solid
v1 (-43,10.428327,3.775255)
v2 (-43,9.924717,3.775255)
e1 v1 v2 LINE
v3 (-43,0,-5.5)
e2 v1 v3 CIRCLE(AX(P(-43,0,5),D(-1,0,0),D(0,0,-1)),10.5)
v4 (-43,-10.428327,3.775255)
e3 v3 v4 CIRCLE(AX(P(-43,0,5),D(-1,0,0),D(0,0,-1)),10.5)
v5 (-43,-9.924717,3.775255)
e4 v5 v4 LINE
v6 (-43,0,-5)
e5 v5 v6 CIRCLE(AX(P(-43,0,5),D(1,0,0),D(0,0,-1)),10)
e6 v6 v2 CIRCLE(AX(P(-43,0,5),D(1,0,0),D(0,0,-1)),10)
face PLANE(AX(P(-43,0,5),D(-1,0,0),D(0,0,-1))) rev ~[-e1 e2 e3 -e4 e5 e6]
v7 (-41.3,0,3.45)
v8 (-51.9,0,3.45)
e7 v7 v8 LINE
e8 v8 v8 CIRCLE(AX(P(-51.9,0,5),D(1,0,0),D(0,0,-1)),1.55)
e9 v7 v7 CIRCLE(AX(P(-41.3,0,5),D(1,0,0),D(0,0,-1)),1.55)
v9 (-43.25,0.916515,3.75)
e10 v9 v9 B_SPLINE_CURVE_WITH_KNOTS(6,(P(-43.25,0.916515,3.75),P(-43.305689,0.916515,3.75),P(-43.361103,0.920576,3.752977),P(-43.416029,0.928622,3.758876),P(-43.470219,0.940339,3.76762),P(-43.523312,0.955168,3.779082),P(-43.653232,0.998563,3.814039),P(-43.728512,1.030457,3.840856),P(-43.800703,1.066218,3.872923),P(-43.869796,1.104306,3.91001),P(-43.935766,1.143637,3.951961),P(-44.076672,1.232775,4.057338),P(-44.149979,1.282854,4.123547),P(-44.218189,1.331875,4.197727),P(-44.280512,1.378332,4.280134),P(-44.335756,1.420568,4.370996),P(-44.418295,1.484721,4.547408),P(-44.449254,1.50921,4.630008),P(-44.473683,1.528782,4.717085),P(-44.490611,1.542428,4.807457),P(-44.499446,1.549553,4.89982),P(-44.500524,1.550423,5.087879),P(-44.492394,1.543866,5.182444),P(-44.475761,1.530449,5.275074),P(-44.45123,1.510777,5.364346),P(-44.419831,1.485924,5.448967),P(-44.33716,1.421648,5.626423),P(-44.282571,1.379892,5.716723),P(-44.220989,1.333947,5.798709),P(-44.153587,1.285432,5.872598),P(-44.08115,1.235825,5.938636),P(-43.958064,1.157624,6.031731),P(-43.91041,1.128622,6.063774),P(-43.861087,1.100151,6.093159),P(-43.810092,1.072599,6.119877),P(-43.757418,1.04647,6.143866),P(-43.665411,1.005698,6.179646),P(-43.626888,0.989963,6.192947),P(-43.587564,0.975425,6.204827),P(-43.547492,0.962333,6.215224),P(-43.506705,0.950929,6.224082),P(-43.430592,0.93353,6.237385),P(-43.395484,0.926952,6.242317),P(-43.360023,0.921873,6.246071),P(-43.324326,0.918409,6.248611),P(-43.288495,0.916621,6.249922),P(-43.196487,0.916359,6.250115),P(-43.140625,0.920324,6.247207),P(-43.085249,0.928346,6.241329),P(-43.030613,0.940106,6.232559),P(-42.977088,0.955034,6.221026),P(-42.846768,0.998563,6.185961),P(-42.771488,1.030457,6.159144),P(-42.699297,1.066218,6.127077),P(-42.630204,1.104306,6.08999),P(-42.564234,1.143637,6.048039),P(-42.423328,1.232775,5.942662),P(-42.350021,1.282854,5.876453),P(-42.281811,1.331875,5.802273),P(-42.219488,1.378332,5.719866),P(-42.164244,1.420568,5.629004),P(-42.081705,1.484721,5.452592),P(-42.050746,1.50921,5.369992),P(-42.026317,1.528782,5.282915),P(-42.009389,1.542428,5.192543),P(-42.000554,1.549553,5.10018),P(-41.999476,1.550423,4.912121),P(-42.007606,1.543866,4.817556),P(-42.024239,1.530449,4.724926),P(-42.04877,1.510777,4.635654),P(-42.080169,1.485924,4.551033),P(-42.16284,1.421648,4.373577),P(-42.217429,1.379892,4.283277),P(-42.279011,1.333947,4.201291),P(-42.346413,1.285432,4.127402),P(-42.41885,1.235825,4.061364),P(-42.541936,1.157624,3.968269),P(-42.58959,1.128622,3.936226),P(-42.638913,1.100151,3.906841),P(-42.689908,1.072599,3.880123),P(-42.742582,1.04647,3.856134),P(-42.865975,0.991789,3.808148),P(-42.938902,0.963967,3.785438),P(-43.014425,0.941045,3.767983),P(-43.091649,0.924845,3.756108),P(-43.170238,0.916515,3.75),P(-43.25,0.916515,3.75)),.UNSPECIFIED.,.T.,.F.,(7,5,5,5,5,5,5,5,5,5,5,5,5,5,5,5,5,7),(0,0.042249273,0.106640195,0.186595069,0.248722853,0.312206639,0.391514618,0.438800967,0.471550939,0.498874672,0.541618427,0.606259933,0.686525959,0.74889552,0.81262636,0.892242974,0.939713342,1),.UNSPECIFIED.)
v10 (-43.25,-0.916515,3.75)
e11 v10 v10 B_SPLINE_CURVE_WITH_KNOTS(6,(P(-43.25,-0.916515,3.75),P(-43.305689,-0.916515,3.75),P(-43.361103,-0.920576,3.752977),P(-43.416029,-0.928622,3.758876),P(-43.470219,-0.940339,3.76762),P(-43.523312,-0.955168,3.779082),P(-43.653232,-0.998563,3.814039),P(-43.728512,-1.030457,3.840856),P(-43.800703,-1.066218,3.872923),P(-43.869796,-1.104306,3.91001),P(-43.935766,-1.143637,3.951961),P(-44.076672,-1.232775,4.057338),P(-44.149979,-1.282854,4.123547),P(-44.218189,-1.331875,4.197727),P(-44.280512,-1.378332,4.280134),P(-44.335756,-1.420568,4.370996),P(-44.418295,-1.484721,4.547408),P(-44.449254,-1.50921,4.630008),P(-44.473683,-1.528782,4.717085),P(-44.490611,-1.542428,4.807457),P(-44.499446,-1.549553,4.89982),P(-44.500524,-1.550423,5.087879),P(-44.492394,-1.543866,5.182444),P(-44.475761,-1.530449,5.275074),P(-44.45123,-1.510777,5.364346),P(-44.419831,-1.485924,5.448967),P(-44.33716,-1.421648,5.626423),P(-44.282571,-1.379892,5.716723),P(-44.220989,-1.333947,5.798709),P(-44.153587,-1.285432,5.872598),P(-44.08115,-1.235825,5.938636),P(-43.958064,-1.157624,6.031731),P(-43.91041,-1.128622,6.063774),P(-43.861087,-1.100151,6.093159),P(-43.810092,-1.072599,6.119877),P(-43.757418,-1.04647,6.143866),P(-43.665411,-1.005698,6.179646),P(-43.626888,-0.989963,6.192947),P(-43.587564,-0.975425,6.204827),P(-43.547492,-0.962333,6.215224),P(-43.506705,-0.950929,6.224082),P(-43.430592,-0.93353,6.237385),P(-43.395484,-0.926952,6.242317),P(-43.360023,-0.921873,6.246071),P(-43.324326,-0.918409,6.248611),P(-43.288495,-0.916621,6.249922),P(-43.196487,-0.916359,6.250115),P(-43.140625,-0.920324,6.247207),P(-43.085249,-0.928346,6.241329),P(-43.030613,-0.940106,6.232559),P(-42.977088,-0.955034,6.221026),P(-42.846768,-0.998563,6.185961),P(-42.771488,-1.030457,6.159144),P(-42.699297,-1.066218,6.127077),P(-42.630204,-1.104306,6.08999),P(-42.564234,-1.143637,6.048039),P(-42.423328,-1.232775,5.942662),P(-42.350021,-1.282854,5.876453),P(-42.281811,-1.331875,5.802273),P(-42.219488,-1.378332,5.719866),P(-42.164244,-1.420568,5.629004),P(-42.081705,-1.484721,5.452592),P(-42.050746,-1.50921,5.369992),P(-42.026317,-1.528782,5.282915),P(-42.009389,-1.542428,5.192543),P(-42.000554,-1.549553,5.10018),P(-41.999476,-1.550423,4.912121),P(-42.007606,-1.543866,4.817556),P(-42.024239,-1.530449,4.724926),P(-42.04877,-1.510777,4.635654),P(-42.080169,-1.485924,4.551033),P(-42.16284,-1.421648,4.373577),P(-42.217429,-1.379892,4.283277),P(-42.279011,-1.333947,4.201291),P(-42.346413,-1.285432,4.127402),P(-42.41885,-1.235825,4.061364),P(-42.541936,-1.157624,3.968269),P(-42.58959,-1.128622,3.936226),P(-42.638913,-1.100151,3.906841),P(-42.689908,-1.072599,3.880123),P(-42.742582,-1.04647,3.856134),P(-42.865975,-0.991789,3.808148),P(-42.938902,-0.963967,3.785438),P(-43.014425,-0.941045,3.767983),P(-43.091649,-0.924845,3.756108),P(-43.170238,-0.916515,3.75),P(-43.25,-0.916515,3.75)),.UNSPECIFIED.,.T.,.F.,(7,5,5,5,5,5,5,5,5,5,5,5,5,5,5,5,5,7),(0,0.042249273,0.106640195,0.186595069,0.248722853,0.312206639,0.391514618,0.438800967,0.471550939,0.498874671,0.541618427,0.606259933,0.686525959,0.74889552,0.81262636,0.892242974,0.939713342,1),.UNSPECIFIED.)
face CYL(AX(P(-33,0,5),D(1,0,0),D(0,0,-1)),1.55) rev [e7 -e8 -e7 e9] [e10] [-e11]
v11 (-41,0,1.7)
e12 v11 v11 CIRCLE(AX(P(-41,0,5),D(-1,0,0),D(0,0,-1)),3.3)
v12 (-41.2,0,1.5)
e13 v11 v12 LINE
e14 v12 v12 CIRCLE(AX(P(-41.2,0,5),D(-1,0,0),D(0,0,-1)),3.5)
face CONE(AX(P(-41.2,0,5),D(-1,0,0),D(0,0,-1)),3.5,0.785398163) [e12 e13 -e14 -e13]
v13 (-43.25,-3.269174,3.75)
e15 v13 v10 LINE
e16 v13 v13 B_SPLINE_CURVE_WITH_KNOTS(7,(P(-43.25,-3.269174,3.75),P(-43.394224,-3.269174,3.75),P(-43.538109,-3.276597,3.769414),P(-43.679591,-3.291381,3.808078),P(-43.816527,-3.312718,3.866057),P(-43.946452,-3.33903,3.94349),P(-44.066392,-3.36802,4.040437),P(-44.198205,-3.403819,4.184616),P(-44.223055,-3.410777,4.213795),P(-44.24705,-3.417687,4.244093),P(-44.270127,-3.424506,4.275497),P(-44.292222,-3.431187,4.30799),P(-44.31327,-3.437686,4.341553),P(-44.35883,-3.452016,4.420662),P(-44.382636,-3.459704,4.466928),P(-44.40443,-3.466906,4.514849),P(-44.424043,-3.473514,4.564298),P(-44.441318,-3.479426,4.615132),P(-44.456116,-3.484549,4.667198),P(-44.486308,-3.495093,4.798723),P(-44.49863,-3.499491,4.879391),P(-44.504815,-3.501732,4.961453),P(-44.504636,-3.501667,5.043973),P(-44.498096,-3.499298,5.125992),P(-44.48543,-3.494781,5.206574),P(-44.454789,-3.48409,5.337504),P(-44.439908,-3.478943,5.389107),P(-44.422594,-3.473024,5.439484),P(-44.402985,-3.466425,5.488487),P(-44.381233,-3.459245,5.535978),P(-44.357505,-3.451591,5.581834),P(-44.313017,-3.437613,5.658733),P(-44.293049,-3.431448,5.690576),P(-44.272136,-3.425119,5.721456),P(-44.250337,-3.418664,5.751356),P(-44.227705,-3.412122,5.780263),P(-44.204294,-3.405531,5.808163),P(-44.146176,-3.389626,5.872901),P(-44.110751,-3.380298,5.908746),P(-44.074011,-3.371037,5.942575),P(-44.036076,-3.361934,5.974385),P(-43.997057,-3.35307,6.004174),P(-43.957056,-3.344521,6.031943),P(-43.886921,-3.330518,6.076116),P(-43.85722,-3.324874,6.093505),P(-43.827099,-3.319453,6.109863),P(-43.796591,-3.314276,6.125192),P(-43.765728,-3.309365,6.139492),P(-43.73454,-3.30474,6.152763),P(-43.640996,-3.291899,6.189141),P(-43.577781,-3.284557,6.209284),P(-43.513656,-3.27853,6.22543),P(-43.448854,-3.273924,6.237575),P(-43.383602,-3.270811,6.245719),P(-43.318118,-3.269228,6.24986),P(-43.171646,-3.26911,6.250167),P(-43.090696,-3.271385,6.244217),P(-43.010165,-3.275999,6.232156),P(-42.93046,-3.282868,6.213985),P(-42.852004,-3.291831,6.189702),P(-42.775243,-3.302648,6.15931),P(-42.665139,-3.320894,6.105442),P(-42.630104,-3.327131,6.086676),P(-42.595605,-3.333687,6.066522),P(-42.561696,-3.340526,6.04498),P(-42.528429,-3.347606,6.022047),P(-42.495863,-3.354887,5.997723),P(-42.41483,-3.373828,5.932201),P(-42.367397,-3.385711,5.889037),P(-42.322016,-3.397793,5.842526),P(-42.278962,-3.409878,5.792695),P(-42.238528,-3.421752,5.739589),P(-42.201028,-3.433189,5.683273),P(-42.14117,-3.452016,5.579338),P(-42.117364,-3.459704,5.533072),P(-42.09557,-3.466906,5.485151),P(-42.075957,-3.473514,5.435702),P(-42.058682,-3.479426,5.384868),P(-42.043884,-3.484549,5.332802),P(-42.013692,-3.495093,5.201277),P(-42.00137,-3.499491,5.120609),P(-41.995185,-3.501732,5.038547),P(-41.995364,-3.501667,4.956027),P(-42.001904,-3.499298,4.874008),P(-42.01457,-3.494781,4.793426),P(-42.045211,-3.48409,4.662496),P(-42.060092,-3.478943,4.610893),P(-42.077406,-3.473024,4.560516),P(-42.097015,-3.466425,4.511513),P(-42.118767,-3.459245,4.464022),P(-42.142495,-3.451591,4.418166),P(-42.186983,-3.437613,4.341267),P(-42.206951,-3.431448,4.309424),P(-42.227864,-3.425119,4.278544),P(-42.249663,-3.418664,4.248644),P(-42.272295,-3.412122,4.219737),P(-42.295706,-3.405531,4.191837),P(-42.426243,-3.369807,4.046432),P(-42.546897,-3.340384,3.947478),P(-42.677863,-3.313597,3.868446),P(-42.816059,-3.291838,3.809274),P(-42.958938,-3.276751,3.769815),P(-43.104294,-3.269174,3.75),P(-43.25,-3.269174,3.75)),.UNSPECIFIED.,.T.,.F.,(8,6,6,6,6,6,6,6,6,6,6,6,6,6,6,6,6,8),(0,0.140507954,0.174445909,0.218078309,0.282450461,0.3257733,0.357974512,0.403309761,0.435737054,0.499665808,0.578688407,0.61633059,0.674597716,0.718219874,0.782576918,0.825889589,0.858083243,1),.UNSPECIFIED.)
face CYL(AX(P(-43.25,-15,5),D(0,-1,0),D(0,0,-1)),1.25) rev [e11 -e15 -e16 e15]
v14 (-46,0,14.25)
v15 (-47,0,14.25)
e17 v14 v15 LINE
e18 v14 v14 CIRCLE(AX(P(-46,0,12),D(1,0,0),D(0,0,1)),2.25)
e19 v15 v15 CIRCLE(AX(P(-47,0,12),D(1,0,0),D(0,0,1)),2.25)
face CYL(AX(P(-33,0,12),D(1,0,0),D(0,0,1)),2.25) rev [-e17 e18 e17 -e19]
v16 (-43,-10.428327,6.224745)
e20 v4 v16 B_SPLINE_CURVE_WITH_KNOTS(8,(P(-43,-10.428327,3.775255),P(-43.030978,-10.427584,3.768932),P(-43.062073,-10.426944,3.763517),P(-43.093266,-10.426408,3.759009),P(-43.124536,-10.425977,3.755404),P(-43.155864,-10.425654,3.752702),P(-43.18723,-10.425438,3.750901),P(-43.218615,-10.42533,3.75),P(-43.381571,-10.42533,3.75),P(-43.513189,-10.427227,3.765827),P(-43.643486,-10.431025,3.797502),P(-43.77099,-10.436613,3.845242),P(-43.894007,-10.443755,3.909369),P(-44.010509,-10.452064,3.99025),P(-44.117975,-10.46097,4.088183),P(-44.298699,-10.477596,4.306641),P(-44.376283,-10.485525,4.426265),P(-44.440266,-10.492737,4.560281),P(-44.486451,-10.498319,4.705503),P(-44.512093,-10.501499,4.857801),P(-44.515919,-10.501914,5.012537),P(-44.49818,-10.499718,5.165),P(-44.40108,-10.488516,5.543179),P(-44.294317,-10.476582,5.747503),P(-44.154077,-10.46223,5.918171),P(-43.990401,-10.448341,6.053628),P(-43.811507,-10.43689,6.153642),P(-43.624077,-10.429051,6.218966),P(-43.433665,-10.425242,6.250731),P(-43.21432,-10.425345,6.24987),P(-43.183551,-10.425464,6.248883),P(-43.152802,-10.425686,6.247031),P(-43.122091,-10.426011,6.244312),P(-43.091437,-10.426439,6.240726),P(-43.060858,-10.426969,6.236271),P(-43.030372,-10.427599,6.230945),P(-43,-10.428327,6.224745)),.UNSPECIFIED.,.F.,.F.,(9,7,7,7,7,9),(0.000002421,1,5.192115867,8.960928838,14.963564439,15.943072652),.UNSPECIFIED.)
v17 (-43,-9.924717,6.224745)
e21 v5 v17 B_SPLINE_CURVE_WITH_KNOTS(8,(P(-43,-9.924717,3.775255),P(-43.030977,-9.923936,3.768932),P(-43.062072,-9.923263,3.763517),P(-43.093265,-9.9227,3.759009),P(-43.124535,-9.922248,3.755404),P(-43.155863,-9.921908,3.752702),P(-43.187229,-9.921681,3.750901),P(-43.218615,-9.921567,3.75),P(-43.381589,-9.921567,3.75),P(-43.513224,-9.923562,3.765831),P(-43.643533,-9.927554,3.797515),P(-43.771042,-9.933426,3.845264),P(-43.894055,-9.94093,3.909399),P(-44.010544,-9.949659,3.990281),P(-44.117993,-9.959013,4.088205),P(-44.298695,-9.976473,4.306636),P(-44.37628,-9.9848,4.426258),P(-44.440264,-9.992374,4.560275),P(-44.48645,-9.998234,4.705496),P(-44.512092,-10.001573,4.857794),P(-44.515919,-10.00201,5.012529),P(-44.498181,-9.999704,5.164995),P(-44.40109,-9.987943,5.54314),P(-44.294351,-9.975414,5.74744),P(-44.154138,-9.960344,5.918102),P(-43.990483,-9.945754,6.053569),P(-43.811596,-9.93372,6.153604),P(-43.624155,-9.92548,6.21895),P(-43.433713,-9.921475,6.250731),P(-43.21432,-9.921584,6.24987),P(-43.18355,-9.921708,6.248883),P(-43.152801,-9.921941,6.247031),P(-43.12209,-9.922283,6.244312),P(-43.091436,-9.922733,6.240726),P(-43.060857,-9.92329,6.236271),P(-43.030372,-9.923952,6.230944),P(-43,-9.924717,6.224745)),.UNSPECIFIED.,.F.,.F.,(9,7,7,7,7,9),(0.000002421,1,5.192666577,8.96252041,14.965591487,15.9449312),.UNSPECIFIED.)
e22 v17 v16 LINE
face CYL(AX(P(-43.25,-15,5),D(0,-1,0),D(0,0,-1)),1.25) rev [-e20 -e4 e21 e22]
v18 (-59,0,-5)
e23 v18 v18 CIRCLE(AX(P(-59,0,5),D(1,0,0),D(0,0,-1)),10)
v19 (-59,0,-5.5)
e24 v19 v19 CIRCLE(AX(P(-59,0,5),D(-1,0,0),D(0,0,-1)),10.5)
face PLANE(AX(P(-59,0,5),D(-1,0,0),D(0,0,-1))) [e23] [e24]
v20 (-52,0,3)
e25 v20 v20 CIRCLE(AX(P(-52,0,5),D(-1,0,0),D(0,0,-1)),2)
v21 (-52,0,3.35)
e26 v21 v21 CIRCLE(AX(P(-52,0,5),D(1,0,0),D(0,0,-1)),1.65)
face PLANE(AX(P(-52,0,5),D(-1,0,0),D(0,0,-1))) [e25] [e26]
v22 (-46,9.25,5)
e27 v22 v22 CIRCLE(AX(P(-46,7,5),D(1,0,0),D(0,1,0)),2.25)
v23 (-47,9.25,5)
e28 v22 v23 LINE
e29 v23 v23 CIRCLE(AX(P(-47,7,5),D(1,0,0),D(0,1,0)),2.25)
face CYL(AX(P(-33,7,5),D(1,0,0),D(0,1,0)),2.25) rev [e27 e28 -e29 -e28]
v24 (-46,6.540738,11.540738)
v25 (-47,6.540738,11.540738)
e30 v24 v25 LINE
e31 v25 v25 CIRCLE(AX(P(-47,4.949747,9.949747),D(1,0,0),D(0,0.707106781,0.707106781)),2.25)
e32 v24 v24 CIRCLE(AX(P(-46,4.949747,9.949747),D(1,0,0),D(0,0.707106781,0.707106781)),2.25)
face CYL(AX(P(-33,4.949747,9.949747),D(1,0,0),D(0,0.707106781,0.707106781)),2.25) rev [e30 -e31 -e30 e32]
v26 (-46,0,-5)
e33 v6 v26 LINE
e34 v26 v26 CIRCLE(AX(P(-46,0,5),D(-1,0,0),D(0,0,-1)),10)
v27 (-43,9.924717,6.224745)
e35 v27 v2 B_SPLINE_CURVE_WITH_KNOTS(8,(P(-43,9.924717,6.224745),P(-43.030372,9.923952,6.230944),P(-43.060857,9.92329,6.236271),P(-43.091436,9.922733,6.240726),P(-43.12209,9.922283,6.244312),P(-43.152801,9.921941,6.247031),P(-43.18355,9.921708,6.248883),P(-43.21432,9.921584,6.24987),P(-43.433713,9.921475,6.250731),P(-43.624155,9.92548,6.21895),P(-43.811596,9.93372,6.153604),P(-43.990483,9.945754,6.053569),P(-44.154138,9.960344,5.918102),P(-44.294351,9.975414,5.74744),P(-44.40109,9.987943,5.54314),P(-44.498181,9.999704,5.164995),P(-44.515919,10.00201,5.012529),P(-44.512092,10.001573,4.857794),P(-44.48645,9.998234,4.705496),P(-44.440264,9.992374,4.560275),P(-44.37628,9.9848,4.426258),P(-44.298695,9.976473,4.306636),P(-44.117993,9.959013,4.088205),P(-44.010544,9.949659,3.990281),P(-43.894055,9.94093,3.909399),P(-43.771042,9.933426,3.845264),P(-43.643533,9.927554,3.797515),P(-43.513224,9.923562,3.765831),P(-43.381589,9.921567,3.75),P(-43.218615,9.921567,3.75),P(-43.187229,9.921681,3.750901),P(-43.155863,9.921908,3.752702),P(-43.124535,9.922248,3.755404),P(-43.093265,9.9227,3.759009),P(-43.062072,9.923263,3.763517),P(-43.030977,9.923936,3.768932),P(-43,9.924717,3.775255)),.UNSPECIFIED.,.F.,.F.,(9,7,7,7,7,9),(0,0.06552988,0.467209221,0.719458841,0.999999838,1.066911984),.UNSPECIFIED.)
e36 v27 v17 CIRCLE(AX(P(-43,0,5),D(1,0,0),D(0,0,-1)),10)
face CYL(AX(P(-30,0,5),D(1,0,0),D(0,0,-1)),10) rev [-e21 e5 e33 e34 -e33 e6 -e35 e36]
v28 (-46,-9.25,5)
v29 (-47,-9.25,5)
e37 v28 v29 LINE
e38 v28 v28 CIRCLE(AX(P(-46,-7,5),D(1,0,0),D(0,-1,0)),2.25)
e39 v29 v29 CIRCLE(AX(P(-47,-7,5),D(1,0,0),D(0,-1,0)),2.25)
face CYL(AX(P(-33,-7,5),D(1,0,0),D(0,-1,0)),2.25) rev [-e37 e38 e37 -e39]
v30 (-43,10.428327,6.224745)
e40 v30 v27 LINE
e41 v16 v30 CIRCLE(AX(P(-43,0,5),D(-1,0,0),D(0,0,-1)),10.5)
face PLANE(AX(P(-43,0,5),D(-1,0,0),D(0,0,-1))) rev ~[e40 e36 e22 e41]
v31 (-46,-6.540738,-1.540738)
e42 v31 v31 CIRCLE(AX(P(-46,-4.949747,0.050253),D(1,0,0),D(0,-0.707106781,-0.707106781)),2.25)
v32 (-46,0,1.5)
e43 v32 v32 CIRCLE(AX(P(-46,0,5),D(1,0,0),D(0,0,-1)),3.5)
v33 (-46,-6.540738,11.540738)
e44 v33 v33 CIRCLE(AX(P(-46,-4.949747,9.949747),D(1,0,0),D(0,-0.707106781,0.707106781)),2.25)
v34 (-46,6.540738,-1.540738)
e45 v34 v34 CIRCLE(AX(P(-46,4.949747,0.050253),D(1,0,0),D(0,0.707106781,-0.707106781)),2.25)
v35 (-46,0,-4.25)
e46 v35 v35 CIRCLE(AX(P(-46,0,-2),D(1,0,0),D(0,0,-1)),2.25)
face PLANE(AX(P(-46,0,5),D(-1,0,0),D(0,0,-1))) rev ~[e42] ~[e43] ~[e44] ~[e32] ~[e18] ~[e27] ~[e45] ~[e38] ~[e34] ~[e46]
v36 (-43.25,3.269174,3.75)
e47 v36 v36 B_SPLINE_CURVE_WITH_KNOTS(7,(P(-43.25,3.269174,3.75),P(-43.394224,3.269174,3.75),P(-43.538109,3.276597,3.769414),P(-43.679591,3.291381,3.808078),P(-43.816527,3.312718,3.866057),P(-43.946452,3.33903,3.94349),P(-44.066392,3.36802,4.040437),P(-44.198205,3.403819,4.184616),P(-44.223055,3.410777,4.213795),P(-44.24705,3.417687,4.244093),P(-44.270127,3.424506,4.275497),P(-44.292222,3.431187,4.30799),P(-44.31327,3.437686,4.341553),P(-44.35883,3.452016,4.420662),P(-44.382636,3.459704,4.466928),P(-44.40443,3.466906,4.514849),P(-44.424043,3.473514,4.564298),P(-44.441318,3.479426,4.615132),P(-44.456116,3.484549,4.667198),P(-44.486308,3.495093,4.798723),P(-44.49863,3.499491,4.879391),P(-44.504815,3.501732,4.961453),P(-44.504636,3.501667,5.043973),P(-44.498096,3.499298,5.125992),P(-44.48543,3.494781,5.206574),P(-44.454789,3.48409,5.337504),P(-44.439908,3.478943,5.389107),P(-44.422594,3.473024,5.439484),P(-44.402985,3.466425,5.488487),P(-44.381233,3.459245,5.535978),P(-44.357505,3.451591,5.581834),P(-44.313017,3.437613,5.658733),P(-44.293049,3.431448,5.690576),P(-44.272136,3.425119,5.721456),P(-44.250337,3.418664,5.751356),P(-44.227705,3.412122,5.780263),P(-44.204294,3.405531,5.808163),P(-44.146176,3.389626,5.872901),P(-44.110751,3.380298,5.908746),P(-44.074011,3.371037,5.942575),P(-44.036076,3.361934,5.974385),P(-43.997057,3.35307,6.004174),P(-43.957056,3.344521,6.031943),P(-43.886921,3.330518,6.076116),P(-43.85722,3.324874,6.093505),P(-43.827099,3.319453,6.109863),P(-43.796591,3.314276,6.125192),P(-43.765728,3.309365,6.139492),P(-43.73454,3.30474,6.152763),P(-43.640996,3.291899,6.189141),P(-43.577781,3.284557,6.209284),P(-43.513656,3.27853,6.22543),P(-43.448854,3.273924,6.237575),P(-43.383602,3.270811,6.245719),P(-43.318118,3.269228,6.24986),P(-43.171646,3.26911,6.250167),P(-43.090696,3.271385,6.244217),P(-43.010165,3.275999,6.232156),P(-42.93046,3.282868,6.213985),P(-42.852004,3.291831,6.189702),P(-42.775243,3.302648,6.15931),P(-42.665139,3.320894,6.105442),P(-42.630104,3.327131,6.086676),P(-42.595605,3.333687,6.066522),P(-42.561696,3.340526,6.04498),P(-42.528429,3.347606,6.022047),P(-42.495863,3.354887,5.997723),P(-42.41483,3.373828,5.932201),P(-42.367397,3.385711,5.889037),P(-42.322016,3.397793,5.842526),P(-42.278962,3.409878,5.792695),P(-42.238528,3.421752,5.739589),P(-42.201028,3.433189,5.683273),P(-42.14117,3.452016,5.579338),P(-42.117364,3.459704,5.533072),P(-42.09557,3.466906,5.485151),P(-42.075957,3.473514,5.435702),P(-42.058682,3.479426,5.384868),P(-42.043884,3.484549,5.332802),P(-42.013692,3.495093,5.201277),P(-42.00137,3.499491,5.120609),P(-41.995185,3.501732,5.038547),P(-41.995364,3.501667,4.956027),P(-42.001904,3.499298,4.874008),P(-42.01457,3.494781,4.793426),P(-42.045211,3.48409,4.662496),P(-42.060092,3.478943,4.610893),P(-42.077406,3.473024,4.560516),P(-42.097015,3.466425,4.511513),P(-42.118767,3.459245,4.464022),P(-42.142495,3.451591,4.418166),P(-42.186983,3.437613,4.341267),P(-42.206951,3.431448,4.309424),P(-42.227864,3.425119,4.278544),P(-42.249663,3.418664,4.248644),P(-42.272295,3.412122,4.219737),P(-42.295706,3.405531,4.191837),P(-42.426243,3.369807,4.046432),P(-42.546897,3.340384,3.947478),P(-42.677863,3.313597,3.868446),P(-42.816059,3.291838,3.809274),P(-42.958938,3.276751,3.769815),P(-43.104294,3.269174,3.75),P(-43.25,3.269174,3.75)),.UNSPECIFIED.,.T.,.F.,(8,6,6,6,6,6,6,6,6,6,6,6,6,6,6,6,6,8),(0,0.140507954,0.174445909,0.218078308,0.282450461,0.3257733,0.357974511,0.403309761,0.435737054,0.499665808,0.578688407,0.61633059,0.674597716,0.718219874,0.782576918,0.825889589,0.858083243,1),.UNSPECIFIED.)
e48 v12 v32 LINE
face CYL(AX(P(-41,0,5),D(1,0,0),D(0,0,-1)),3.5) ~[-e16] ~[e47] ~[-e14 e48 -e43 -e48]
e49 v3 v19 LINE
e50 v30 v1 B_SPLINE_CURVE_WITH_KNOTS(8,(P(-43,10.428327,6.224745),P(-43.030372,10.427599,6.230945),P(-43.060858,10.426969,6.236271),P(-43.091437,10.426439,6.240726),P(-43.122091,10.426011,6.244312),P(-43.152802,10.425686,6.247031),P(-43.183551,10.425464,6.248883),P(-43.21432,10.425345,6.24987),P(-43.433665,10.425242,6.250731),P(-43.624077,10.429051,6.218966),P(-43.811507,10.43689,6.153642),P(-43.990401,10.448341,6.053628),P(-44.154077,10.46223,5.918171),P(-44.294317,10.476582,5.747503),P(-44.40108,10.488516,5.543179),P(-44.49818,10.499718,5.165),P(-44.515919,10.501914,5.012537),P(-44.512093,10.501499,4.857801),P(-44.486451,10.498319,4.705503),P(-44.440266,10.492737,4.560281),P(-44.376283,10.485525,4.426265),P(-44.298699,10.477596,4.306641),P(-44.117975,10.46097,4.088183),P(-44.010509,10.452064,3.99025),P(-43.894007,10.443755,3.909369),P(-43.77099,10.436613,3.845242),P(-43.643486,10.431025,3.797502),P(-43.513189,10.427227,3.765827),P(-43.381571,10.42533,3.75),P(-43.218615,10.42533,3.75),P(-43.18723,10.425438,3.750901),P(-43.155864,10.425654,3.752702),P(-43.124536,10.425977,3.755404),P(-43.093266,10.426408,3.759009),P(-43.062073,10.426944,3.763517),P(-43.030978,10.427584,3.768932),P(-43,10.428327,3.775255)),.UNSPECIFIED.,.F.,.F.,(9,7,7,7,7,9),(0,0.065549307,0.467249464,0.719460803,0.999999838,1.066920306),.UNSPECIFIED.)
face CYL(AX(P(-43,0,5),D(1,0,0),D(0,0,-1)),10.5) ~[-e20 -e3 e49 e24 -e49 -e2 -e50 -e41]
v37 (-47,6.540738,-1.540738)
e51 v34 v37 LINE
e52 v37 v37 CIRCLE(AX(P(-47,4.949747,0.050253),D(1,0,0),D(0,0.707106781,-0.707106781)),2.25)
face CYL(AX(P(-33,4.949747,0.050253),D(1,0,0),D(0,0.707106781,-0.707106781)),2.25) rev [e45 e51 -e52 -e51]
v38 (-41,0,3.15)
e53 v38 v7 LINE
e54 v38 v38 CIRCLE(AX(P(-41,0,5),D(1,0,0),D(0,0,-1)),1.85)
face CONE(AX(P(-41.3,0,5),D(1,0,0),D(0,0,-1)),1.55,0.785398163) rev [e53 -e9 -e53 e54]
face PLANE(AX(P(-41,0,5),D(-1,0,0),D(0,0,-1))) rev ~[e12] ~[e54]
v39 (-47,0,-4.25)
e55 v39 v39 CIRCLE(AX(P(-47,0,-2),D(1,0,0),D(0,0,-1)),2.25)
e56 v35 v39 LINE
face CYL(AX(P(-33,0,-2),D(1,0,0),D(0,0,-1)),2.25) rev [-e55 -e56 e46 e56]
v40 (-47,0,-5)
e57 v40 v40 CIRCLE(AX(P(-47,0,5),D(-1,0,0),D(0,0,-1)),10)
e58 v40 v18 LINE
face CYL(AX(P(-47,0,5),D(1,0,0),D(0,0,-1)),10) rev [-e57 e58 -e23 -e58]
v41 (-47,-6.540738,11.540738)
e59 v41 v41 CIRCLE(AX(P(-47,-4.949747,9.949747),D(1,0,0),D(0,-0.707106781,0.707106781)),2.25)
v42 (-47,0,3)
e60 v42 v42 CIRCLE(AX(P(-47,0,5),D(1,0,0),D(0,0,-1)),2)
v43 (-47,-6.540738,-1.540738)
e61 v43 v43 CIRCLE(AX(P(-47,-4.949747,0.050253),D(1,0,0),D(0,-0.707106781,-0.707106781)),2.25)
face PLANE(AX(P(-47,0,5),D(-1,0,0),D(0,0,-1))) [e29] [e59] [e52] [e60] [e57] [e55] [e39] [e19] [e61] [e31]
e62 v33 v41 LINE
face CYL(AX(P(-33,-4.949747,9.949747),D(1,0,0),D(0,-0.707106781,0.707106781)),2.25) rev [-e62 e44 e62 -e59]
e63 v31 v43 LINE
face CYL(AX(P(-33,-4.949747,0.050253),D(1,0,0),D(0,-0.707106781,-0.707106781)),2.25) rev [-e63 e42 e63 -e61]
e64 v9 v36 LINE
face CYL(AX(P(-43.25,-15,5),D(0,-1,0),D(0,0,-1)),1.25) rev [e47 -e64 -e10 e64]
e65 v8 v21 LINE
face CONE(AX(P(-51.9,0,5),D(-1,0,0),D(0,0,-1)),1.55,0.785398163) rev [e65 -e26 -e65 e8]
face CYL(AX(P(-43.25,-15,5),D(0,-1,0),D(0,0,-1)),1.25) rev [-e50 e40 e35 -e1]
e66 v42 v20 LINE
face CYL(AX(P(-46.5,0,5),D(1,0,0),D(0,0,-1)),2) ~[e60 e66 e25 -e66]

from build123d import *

# Parameters (mm, degrees)
CYLINDER039_R          = 2.25
CYLINDER039_DEPTH      = 30
ARRAY002_COUNT         = 8
CYLINDER038_R          = 1.55
CYLINDER038_DEPTH      = 30
CYLINDER045_R          = 1.25
CYLINDER045_DEPTH      = 32
CYLINDER045_ROLL_ANGLE = 90
CYLINDER043_R          = 3.5
CYLINDER043_DEPTH      = 5.5
CYLINDER042_R          = 10
CYLINDER042_DEPTH      = 16
CYLINDER037_R          = 10
CYLINDER037_DEPTH      = 16
CYLINDER036_R          = 10.5
CYLINDER036_DEPTH      = 16
CYLINDER044_R          = 2
CYLINDER044_DEPTH      = 5.5
CHAMFER062_1_SIZE      = 0.3
CHAMFER062_2_SIZE      = 0.2
CHAMFER062_3_SIZE      = 0.1
CLONE044_PITCH_ANGLE   = 90
CLONE_PLACEMENT_ANGLE  = 180


with BuildPart() as array002:
    # Cylinder039 → Cylinder039 (new body)
    with BuildSketch(Plane(origin=(7, 0, -10), x_dir=(1, 0, 0), z_dir=(0, 0, 1))):
        Circle(CYLINDER039_R)
    extrude(amount=CYLINDER039_DEPTH)

    # Array002: Array002 ×8 about axis
    array002_axis = Axis((0, 0, 0), (0, 0, 1))


with BuildPart() as array002_1:
    add(array002.part)
    for i in range(1, ARRAY002_COUNT):
        add(array002.part.rotate(array002_axis, i * 360 / ARRAY002_COUNT))


with BuildPart() as fusion033:
    # Cylinder038 → Cylinder038 (new body)
    with BuildSketch(Plane.XY.offset(-10)):
        Circle(CYLINDER038_R)
    extrude(amount=CYLINDER038_DEPTH)

    # Fusion033: union Array002
    add(array002_1.part)


with BuildPart() as cylinder045:
    # Cylinder045 → Cylinder045 (new body)
    with BuildSketch(Plane.XY):
        Circle(CYLINDER045_R)
    extrude(amount=CYLINDER045_DEPTH)


with BuildPart() as cylinder045_1:
    # Cylinder045 roll: moved
    add(cylinder045.part.rotate(Axis((0, 0, 0), (1, 0, 0)), CYLINDER045_ROLL_ANGLE))


with BuildPart() as cylinder045_2:
    # Cylinder045 placement: moved
    add(cylinder045_1.part.moved(Location((0, 15, 0.25))))


with BuildPart() as cylinder043:
    # Cylinder043 → Cylinder043 (new body)
    with BuildSketch(Plane.XY.offset(-2)):
        Circle(CYLINDER043_R)
    extrude(amount=CYLINDER043_DEPTH)


with BuildPart() as cylinder042:
    # Cylinder042 → Cylinder042 (new body)
    with BuildSketch(Plane.XY.offset(-13)):
        Circle(CYLINDER042_R)
    extrude(amount=CYLINDER042_DEPTH)


with BuildPart() as fusion034:
    # Cylinder037 → Cylinder037 (new body)
    with BuildSketch(Plane.XY.offset(4)):
        Circle(CYLINDER037_R)
    extrude(amount=CYLINDER037_DEPTH)

    # Fusion034: union Cylinder042
    add(cylinder042.part)


with BuildPart() as cut028:
    # Cylinder036 → Cylinder036 (new body)
    with BuildSketch(Plane.XY):
        Circle(CYLINDER036_R)
    extrude(amount=CYLINDER036_DEPTH)

    # Cut028: cut Fusion034
    add(fusion034.part, mode=Mode.SUBTRACT)


with BuildPart() as left_wheel:
    # Cylinder044 → Cylinder044 (new body)
    with BuildSketch(Plane.XY.offset(3.5)):
        Circle(CYLINDER044_R)
    extrude(amount=CYLINDER044_DEPTH)

    # Fusion035: union Cylinder043, Cut028
    add(cylinder043.part)
    add(cut028.part)

    # Cut002: cut Cylinder045
    add(cylinder045_2.part, mode=Mode.SUBTRACT)

    # Cut029: cut Fusion033
    add(fusion033.part, mode=Mode.SUBTRACT)

    # Chamfer062 1
    chamfer062_1_edges = [left_wheel.edges().sort_by_distance(p)[0] for p in [
        (-1.55, 0, -2),
    ]]
    chamfer(chamfer062_1_edges, length=CHAMFER062_1_SIZE)

    # Chamfer062 2
    chamfer062_2_edges = [left_wheel.edges().sort_by_distance(p)[0] for p in [
        (-3.5, 0, -2),
    ]]
    chamfer(chamfer062_2_edges, length=CHAMFER062_2_SIZE)

    # Chamfer062 3
    chamfer062_3_edges = [left_wheel.edges().sort_by_distance(p)[0] for p in [
        (-1.55, 0, 9),
    ]]
    chamfer(chamfer062_3_edges, length=CHAMFER062_3_SIZE)


with BuildPart() as left_wheel_1:
    # Clone044 pitch: moved
    add(left_wheel.part.rotate(Axis((0, 0, 0), (0, 1, 0)), CLONE044_PITCH_ANGLE))


with BuildPart() as left_wheel_2:
    # Clone044 placement: moved
    add(left_wheel_1.part.moved(Location((43, 0, 5))))


with BuildPart() as left_wheel_3:
    # Clone placement: moved
    add(left_wheel_2.part.moved(Location((0, 0, 0))).rotate(Axis((0, 0, 0), (0, 0, 1)), CLONE_PLACEMENT_ANGLE))


solid = left_wheel_3.part
